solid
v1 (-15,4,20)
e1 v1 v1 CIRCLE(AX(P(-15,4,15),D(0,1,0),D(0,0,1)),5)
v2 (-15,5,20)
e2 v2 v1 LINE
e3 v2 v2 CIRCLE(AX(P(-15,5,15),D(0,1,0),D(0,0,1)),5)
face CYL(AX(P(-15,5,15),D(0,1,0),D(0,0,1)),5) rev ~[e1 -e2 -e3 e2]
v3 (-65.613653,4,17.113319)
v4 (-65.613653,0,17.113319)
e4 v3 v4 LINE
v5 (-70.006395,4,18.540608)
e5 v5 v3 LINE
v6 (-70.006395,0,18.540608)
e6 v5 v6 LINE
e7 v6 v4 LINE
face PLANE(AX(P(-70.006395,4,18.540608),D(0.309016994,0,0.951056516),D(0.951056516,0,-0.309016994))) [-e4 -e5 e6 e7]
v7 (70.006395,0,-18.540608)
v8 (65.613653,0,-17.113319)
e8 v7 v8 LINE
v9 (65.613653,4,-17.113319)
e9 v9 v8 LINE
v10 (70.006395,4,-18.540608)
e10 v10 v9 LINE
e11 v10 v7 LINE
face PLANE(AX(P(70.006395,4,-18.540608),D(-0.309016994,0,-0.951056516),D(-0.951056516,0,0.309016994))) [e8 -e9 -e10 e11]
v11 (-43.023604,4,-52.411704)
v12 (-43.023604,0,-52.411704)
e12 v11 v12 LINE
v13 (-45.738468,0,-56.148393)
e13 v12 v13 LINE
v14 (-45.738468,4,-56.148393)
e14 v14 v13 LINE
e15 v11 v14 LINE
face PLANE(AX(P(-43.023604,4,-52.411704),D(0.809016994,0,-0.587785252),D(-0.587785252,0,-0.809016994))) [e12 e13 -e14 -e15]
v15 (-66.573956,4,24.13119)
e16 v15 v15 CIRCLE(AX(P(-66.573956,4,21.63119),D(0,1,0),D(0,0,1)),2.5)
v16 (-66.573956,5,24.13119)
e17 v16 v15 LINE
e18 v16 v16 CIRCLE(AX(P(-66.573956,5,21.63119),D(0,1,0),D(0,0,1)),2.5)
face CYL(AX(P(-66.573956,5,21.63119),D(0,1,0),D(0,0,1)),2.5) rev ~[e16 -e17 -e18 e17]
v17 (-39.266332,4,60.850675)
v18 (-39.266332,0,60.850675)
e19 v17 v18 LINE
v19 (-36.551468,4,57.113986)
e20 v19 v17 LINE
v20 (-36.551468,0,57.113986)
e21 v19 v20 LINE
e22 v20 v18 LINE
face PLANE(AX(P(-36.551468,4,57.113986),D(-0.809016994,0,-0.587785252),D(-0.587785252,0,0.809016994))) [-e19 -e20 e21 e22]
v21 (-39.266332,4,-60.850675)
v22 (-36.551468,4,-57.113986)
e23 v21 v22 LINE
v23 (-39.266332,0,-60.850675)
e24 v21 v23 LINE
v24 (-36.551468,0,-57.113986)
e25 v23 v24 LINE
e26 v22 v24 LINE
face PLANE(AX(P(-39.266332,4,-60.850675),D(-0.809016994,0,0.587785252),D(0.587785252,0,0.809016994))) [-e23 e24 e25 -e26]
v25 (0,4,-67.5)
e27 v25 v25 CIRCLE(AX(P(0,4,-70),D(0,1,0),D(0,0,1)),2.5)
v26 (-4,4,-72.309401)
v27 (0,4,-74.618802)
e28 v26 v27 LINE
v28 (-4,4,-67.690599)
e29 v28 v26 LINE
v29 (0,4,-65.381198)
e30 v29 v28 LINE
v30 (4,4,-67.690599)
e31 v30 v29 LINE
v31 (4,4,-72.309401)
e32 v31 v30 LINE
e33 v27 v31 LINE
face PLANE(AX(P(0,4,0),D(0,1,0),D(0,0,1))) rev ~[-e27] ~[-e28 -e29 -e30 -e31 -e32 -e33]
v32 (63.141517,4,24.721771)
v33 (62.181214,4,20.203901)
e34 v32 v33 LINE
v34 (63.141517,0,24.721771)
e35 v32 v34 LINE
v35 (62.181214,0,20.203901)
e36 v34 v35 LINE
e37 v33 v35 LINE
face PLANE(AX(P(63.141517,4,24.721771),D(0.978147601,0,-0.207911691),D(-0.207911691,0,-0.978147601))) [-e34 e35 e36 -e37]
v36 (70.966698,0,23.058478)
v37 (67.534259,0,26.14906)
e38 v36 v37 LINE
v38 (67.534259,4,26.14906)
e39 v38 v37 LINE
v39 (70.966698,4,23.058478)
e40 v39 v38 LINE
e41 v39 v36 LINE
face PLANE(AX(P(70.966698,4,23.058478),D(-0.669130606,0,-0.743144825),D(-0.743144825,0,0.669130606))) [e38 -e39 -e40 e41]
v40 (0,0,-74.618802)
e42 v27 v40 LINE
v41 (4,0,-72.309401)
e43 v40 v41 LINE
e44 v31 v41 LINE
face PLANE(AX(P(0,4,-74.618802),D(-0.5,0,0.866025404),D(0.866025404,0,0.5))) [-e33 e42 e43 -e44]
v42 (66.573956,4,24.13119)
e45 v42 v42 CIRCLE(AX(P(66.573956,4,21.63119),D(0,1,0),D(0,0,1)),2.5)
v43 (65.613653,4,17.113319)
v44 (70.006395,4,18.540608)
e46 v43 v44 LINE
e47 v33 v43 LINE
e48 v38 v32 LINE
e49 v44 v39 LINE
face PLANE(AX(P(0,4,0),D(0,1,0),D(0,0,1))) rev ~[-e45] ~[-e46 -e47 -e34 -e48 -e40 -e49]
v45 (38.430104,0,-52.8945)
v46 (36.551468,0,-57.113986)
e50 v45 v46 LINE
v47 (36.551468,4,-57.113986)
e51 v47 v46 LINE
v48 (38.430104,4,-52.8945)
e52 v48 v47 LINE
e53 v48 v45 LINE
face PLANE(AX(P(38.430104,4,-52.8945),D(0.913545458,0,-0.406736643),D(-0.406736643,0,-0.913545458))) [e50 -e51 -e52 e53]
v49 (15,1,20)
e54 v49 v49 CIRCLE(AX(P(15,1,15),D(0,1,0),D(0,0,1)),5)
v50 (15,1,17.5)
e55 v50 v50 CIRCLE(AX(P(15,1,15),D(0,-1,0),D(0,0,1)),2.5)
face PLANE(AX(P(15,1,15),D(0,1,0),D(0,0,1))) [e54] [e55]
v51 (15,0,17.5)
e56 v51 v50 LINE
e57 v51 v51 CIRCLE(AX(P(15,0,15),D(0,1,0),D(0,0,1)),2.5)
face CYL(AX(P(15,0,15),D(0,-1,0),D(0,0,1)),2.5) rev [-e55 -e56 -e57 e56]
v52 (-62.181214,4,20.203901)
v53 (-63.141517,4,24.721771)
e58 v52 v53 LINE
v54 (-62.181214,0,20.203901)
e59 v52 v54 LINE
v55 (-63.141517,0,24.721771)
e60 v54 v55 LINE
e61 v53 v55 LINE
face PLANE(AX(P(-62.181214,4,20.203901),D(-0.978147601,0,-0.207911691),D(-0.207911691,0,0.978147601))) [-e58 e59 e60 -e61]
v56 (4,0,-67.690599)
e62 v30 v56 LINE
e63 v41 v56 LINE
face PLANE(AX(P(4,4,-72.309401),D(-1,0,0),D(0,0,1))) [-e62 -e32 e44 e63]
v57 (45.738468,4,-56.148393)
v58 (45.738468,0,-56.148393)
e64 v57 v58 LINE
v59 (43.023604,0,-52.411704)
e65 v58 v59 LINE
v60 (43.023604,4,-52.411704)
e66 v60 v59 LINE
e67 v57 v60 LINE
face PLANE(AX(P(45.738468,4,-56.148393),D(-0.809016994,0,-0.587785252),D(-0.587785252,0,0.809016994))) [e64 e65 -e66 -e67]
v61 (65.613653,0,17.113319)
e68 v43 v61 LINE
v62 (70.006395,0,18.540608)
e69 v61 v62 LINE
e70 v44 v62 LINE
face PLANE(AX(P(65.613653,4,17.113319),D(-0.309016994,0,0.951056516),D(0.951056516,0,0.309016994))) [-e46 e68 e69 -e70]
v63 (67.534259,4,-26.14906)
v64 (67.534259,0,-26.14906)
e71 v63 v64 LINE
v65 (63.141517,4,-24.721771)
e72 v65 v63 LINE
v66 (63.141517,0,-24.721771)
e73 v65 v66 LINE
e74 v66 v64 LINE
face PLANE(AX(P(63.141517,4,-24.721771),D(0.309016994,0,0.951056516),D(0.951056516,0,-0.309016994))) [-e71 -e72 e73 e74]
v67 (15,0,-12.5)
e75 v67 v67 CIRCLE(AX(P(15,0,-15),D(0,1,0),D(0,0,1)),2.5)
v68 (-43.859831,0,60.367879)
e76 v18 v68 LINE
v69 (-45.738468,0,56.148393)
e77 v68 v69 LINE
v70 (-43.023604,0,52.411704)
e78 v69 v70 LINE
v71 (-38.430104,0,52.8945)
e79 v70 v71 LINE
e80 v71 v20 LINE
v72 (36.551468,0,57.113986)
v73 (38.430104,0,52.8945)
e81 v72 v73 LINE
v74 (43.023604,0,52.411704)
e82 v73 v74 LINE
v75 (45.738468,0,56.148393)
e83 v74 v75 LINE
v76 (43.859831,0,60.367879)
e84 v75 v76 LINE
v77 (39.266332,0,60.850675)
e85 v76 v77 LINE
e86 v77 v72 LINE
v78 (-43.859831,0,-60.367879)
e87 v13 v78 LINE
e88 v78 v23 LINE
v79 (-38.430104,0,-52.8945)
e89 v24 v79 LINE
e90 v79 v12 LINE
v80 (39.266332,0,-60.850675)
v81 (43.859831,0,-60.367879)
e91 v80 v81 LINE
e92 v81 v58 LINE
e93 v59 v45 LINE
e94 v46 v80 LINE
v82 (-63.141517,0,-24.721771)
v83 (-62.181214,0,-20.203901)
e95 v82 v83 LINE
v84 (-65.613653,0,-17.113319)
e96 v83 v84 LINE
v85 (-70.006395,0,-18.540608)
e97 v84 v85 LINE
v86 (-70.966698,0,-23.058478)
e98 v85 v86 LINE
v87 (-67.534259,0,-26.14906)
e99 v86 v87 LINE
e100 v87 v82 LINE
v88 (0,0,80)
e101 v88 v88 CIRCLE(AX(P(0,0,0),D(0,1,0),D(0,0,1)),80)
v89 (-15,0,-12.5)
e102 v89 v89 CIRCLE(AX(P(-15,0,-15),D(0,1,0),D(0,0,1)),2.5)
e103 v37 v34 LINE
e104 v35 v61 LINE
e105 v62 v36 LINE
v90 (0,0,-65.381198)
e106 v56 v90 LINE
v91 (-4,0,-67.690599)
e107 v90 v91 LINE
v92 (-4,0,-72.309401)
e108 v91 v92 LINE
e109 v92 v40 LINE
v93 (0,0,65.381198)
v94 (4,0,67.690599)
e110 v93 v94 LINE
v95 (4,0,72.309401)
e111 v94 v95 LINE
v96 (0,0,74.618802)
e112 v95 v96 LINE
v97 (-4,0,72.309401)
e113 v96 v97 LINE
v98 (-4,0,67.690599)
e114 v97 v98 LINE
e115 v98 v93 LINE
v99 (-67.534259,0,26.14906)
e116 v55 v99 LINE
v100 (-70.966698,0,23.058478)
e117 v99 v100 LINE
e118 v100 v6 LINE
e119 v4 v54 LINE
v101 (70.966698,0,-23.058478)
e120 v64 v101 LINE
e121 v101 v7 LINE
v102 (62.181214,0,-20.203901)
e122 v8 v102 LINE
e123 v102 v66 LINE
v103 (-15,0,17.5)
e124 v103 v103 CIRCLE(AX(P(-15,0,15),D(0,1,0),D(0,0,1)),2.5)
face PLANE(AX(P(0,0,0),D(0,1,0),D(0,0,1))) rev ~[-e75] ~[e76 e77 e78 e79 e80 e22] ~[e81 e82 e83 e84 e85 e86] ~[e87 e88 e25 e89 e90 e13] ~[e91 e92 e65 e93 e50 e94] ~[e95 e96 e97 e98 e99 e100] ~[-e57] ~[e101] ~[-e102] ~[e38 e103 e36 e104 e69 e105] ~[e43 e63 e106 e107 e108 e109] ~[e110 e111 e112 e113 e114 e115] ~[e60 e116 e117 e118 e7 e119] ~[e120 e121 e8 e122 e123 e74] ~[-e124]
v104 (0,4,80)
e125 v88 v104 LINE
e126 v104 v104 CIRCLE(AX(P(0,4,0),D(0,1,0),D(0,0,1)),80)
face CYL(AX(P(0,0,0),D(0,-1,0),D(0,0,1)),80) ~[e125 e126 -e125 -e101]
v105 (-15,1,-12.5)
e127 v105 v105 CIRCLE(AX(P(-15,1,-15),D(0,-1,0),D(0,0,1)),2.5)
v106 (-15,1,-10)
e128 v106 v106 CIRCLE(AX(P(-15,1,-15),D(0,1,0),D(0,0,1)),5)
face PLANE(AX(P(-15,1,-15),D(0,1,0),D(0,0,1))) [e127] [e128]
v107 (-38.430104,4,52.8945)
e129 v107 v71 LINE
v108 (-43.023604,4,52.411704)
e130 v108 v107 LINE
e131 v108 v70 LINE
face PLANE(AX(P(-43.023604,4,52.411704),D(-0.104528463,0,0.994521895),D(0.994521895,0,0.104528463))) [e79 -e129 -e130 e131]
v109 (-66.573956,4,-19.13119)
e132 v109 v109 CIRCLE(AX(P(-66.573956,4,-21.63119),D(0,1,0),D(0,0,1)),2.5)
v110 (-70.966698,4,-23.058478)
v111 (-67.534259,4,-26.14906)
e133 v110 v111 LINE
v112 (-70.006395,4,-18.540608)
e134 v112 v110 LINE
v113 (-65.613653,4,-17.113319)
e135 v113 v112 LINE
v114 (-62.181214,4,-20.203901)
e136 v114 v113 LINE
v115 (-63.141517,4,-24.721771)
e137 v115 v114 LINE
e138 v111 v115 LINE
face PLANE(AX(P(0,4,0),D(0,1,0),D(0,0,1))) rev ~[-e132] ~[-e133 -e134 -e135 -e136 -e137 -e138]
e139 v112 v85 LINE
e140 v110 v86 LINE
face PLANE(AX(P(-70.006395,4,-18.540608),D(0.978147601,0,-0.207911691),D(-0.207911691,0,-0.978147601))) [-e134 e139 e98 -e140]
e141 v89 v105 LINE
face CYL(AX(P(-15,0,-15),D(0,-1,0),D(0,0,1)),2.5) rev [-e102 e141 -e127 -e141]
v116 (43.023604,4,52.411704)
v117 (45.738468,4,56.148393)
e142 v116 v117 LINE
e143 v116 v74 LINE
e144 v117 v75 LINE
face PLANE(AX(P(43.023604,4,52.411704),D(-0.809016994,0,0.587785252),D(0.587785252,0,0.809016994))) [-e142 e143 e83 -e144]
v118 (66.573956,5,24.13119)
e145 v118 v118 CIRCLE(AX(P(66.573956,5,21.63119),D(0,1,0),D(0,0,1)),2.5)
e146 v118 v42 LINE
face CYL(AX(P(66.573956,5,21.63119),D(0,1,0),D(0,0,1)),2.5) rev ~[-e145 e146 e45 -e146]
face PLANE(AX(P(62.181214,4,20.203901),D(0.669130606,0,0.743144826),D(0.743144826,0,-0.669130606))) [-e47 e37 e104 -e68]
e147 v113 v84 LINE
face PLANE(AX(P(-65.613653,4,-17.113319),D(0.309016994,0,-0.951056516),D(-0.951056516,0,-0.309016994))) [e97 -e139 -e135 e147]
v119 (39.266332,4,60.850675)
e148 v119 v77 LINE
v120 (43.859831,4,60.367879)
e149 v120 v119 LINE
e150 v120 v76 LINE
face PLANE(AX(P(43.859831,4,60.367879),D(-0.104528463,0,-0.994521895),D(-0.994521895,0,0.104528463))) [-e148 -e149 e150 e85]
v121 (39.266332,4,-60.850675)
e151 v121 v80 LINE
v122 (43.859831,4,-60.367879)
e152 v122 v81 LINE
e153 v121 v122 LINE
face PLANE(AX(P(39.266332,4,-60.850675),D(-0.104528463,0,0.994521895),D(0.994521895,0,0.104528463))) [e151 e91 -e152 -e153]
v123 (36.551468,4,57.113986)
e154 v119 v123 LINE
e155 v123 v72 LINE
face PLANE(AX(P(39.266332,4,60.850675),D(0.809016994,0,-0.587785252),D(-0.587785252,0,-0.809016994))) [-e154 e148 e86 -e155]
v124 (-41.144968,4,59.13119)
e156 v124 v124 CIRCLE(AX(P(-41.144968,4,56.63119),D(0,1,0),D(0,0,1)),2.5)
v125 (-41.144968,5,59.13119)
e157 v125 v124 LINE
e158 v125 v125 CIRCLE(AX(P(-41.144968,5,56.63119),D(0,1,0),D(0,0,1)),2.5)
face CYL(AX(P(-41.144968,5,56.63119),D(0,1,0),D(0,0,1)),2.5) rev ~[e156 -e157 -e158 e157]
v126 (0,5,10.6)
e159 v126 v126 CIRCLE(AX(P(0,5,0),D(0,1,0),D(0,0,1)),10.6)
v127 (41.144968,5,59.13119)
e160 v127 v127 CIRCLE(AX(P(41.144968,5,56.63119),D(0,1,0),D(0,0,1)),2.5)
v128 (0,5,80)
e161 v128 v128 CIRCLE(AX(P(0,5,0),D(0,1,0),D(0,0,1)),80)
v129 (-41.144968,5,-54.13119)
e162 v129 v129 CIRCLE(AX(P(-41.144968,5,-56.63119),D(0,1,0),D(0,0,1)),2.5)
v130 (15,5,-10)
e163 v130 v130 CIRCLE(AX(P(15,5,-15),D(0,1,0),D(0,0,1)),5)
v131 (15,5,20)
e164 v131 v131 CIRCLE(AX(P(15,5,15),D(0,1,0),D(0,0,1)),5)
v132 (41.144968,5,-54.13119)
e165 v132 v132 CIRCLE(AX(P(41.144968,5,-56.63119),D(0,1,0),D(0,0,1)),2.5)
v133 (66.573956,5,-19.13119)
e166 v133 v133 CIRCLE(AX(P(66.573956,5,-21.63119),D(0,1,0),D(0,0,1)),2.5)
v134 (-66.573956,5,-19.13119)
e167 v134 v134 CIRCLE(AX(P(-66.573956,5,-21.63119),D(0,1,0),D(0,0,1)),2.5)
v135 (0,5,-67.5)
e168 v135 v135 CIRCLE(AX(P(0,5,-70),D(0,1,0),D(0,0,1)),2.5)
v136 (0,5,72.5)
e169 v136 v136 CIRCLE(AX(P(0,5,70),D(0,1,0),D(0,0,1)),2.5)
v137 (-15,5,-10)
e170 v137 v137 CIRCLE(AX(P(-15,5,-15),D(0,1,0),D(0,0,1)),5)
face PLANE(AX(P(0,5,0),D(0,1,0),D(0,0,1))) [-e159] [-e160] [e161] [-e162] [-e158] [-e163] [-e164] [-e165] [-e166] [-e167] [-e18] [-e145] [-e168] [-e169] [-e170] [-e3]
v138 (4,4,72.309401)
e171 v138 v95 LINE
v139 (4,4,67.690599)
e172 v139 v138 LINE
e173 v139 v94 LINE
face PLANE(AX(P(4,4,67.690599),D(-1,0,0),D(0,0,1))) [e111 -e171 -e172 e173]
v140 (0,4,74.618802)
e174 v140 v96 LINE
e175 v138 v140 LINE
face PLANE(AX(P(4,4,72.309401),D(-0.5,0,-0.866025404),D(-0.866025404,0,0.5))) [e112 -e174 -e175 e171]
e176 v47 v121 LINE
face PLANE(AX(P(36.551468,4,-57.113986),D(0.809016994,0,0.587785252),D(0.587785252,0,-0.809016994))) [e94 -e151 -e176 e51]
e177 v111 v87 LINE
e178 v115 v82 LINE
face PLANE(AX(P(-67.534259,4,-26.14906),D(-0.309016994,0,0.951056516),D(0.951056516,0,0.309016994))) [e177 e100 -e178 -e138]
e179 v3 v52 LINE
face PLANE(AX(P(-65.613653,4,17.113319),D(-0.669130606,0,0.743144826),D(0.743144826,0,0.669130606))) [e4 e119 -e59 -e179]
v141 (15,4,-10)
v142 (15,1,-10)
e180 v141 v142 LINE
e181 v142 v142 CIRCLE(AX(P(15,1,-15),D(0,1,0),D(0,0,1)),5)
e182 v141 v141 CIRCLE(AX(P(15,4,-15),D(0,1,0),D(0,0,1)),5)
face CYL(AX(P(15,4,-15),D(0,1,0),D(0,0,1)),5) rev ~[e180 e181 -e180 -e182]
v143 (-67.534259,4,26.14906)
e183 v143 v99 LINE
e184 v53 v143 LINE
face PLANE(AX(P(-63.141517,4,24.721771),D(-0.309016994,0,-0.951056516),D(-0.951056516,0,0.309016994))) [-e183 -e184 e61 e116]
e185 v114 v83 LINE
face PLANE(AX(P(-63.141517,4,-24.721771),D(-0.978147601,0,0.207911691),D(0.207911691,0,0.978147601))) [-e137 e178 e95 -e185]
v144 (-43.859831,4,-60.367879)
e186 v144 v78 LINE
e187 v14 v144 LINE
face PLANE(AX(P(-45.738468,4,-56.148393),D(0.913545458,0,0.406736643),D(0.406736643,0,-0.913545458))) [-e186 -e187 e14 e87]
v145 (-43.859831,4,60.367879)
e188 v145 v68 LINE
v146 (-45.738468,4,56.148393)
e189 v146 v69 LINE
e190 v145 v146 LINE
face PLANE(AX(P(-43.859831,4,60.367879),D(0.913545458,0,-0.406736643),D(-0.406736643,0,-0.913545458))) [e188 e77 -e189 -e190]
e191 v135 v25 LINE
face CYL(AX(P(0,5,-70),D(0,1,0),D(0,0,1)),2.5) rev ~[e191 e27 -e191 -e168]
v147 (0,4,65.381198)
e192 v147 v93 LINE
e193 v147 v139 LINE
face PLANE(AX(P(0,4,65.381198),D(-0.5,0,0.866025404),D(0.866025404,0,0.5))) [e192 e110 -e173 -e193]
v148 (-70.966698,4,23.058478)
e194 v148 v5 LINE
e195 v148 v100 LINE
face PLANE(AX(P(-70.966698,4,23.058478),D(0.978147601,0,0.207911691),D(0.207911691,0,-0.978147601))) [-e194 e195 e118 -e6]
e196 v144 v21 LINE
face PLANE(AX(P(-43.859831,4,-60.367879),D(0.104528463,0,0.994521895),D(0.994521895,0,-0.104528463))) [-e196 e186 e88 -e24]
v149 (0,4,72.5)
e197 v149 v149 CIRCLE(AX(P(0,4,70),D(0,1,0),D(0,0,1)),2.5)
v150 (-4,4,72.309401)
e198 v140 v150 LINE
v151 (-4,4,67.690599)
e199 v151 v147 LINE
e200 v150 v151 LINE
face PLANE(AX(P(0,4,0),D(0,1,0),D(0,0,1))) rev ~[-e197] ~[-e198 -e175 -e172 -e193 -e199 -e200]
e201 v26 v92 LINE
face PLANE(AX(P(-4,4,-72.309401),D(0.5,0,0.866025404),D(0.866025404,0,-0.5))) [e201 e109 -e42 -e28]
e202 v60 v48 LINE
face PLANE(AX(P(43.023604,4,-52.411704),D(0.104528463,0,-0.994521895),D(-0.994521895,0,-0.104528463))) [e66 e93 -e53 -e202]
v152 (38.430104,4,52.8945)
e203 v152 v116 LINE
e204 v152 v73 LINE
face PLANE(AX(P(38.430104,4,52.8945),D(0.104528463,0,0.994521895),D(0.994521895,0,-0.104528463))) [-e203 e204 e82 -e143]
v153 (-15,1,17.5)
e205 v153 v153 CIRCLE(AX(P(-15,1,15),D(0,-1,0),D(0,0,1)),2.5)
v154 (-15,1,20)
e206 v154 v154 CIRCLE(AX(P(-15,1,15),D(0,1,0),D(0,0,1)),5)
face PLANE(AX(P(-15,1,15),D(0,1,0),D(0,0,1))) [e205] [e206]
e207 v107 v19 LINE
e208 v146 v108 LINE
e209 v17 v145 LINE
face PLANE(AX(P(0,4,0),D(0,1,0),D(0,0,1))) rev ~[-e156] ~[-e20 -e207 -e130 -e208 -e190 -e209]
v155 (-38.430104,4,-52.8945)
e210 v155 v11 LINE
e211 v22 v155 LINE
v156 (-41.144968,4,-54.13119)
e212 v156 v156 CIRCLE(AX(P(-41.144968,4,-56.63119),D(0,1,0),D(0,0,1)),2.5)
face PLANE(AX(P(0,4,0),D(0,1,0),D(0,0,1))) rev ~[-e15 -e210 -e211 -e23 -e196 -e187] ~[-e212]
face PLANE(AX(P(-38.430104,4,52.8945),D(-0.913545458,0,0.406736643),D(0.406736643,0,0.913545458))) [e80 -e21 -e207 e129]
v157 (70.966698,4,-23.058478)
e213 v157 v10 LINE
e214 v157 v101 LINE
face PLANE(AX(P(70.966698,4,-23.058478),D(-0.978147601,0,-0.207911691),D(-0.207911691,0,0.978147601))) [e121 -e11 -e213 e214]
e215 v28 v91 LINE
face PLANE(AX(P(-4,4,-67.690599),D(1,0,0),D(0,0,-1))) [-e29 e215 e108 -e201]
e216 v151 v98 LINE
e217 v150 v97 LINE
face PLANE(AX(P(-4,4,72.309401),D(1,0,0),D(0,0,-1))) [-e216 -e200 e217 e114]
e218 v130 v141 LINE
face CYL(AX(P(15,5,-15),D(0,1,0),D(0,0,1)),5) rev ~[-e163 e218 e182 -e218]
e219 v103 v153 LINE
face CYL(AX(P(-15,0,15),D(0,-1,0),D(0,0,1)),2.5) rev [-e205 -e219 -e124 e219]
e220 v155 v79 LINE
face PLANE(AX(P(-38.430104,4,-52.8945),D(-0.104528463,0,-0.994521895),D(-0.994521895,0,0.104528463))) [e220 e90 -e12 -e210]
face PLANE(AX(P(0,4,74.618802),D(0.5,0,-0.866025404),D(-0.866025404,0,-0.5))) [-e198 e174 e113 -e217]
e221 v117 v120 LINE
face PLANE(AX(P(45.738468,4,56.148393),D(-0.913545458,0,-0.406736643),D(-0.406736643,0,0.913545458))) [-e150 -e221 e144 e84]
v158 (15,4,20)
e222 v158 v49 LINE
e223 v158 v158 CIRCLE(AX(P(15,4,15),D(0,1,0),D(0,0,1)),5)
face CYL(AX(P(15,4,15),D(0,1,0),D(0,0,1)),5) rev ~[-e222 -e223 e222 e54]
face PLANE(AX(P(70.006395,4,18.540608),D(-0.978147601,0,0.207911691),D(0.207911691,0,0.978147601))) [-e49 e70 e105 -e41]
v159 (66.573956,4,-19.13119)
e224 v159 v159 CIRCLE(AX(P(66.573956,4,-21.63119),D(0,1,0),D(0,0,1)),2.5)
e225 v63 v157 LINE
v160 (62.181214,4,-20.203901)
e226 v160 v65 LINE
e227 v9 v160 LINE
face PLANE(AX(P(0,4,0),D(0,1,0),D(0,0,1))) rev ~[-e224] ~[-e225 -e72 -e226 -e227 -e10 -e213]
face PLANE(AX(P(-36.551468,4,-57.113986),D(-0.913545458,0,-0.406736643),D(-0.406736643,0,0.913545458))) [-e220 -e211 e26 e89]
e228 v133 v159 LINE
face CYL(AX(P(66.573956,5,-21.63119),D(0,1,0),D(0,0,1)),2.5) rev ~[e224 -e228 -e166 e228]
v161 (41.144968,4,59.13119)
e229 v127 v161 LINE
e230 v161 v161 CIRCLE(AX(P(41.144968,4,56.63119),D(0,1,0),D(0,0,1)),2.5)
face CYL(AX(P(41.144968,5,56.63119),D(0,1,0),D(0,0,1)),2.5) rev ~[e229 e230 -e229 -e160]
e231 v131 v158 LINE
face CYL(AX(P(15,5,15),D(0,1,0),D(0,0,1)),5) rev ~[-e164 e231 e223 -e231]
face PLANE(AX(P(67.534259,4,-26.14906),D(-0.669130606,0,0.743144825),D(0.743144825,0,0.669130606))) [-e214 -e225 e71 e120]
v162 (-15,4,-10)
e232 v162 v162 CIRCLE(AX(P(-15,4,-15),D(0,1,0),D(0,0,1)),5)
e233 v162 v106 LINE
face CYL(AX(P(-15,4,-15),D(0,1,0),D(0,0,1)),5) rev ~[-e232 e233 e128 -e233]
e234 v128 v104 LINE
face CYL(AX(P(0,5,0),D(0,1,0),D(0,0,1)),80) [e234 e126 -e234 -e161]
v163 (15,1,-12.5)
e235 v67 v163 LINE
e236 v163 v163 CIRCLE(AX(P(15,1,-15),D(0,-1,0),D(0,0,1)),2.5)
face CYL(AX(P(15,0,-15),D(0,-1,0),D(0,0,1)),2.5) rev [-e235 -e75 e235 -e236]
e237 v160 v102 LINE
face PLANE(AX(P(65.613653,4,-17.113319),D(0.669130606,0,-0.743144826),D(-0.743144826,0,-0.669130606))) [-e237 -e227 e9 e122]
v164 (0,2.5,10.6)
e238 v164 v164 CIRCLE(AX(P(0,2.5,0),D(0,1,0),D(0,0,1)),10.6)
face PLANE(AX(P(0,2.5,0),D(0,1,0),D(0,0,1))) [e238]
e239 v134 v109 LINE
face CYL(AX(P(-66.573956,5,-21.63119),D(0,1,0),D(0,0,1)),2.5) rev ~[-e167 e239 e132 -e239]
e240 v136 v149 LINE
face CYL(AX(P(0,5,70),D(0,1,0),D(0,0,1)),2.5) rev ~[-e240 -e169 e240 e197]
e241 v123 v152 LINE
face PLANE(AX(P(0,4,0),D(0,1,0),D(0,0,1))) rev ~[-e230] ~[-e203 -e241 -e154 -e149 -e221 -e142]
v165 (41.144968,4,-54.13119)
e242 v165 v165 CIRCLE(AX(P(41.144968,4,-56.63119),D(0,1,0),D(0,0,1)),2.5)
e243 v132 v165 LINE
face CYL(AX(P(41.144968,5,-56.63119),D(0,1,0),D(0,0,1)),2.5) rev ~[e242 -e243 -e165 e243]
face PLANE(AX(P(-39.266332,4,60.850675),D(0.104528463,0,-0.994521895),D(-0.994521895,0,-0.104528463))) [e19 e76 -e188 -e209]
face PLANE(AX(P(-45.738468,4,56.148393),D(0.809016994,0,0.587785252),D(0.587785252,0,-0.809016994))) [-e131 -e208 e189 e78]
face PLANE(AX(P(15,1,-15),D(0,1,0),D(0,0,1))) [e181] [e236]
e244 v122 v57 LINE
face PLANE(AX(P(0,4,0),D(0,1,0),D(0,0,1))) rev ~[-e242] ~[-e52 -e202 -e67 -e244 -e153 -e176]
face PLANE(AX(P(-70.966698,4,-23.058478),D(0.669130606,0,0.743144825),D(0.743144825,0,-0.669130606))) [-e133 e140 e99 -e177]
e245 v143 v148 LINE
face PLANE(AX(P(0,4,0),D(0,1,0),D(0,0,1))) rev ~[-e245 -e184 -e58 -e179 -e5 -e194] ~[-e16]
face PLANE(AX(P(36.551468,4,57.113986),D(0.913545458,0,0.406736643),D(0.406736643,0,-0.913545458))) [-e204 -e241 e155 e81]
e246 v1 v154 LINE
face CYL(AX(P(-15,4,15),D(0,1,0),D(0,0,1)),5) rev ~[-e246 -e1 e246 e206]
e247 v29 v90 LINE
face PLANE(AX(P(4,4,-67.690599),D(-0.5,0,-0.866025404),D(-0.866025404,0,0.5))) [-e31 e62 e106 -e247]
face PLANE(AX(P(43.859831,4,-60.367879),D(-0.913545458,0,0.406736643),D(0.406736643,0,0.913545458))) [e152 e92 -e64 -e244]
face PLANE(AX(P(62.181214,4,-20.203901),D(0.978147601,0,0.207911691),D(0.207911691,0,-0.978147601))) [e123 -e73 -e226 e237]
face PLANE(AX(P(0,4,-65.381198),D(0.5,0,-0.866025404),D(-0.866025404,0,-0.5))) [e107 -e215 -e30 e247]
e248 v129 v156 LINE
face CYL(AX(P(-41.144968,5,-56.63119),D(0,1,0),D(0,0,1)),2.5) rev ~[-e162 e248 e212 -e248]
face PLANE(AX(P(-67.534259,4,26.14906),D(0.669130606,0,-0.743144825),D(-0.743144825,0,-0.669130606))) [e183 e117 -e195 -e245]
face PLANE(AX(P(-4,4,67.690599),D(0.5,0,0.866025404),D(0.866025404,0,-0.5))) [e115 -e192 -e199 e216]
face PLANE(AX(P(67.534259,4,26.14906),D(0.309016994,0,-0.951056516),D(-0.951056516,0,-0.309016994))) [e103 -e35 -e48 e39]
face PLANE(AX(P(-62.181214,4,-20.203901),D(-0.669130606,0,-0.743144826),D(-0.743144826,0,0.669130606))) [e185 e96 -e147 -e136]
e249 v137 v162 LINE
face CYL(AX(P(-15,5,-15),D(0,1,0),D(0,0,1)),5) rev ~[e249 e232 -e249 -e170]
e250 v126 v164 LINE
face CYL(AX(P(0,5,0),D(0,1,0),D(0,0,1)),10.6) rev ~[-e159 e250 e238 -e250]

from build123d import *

# Parameters (mm, degrees)
SKETCH1_R           = 80
SKETCH1_R_2         = 2.5
BOSS_EXTRUDE1_DEPTH = 4
CUT_EXTRUDE1_DEPTH  = 114.207773585
SKETCH3_R           = 5
CUT_EXTRUDE2_DEPTH  = 3
BOSS_EXTRUDE2_START = 1
SKETCH4_R           = 80
SKETCH4_R_2         = 2.5
SKETCH4_R_3         = 5
BOSS_EXTRUDE2_DEPTH = 1
SKETCH5_R           = 10.6
CUT_EXTRUDE3_DEPTH  = 2.5


with BuildPart() as part:
    # Sketch1 → Boss-Extrude1 (new body)
    with BuildSketch(Plane(origin=(0, 0, 0), x_dir=(1, 0, 0), z_dir=(0, 1, 0))):
        with Locations(Location((0, 0, 0), (0, 0, 270))):
            Circle(SKETCH1_R)
        with Locations(Location((-15, 15, 0), (0, 0, 270))):
            Circle(SKETCH1_R_2, mode=Mode.SUBTRACT)
        with Locations(Location((15, 15, 0), (0, 0, 270))):
            Circle(SKETCH1_R_2, mode=Mode.SUBTRACT)
        with Locations(Location((15, -15, 0), (0, 0, 270))):
            Circle(SKETCH1_R_2, mode=Mode.SUBTRACT)
        with Locations(Location((-15, -15, 0), (0, 0, 270))):
            Circle(SKETCH1_R_2, mode=Mode.SUBTRACT)
    extrude(amount=BOSS_EXTRUDE1_DEPTH)

    # Sketch2 → Cut-Extrude1 (cut, through all)
    with BuildSketch(Plane(origin=(0, 4, 0), x_dir=(1, 0, 0), z_dir=(0, 1, 0))):
        Polygon((4, 72.309401077), (4, 67.690598923), (0, 65.381197846), (-4, 67.690598923), (-4, 72.309401077), (0, 74.618802154), align=None)
        Polygon((45.738467533, 56.148393315), (43.023603743, 52.411703879), (38.430103871, 52.89450017), (36.551467788, 57.113985897), (39.266331578, 60.850675333), (43.85983145, 60.367879042), align=None)
        Polygon((70.006395061, 18.540607721), (65.613653175, 17.113319362), (62.181214255, 20.203901247), (63.14151722, 24.721771492), (67.534259106, 26.149059851), (70.966698026, 23.058477965), align=None)
        Polygon((67.534259106, -26.149059851), (63.14151722, -24.721771492), (62.181214255, -20.203901247), (65.613653175, -17.113319362), (70.006395061, -18.540607721), (70.966698026, -23.058477965), align=None)
        Polygon((39.266331578, -60.850675333), (36.551467788, -57.113985897), (38.430103871, -52.89450017), (43.023603743, -52.411703879), (45.738467533, -56.148393315), (43.85983145, -60.367879042), align=None)
        Polygon((-4, -72.309401077), (-4, -67.690598923), (0, -65.381197846), (4, -67.690598923), (4, -72.309401077), (0, -74.618802154), align=None)
        Polygon((-45.738467533, -56.148393315), (-43.023603743, -52.411703879), (-38.430103871, -52.89450017), (-36.551467788, -57.113985897), (-39.266331578, -60.850675333), (-43.85983145, -60.367879042), align=None)
        Polygon((-70.006395061, -18.540607721), (-65.613653175, -17.113319362), (-62.181214255, -20.203901247), (-63.14151722, -24.721771492), (-67.534259106, -26.149059851), (-70.966698026, -23.058477965), align=None)
        Polygon((-67.534259106, 26.149059851), (-63.14151722, 24.721771492), (-62.181214255, 20.203901247), (-65.613653175, 17.113319362), (-70.006395061, 18.540607721), (-70.966698026, 23.058477965), align=None)
        Polygon((-39.266331578, 60.850675333), (-36.551467788, 57.113985897), (-38.430103871, 52.89450017), (-43.023603743, 52.411703879), (-45.738467533, 56.148393315), (-43.85983145, 60.367879042), align=None)
    extrude(amount=-CUT_EXTRUDE1_DEPTH, mode=Mode.SUBTRACT)

    # Sketch3 → Cut-Extrude2 (cut)
    with BuildSketch(Plane(origin=(0, 4, 0), x_dir=(1, 0, 0), z_dir=(0, 1, 0))):
        with Locations(Location((-15, -15, 0), (0, 0, 270))):
            Circle(SKETCH3_R)
        with Locations(Location((15, -15, 0), (0, 0, 270))):
            Circle(SKETCH3_R)
        with Locations(Location((15, 15, 0), (0, 0, 270))):
            Circle(SKETCH3_R)
        with Locations(Location((-15, 15, 0), (0, 0, 270))):
            Circle(SKETCH3_R)
    extrude(amount=-CUT_EXTRUDE2_DEPTH, mode=Mode.SUBTRACT)

    # Sketch4 → Boss-Extrude2 (add)
    with BuildSketch(Plane(origin=(0, 4, 0), x_dir=(1, 0, 0), z_dir=(0, 1, 0)).offset(BOSS_EXTRUDE2_START)):
        with Locations(Location((0, 0, 0), (0, 0, 270))):
            Circle(SKETCH4_R)
        with Locations(Location((41.14496766, 56.631189606, 0), (0, 0, 270))):
            Circle(SKETCH4_R_2, mode=Mode.SUBTRACT)
        with Locations(Location((0, 70, 0), (0, 0, 270))):
            Circle(SKETCH4_R_2, mode=Mode.SUBTRACT)
        with Locations(Location((66.573956141, 21.631189606, 0), (0, 0, 270))):
            Circle(SKETCH4_R_2, mode=Mode.SUBTRACT)
        with Locations(Location((66.573956141, -21.631189606, 0), (0, 0, 270))):
            Circle(SKETCH4_R_2, mode=Mode.SUBTRACT)
        with Locations(Location((-15, 15, 0), (0, 0, 270))):
            Circle(SKETCH4_R_3, mode=Mode.SUBTRACT)
        with Locations(Location((41.14496766, -56.631189606, 0), (0, 0, 270))):
            Circle(SKETCH4_R_2, mode=Mode.SUBTRACT)
        with Locations(Location((15, 15, 0), (0, 0, 270))):
            Circle(SKETCH4_R_3, mode=Mode.SUBTRACT)
        with Locations(Location((0, -70, 0), (0, 0, 270))):
            Circle(SKETCH4_R_2, mode=Mode.SUBTRACT)
        with Locations(Location((-15, -15, 0), (0, 0, 270))):
            Circle(SKETCH4_R_3, mode=Mode.SUBTRACT)
        with Locations(Location((-41.14496766, -56.631189606, 0), (0, 0, 270))):
            Circle(SKETCH4_R_2, mode=Mode.SUBTRACT)
        with Locations(Location((15, -15, 0), (0, 0, 270))):
            Circle(SKETCH4_R_3, mode=Mode.SUBTRACT)
        with Locations(Location((-66.573956141, -21.631189606, 0), (0, 0, 270))):
            Circle(SKETCH4_R_2, mode=Mode.SUBTRACT)
        with Locations(Location((-66.573956141, 21.631189606, 0), (0, 0, 270))):
            Circle(SKETCH4_R_2, mode=Mode.SUBTRACT)
        with Locations(Location((-41.14496766, 56.631189606, 0), (0, 0, 270))):
            Circle(SKETCH4_R_2, mode=Mode.SUBTRACT)
    extrude(amount=-BOSS_EXTRUDE2_DEPTH)

    # Sketch5 → Cut-Extrude3 (cut)
    with BuildSketch(Plane(origin=(0, 5, 0), x_dir=(1, 0, 0), z_dir=(0, 1, 0))):
        with Locations(Location((0, 0, 0), (0, 0, 270))):
            Circle(SKETCH5_R)
    extrude(amount=-CUT_EXTRUDE3_DEPTH, mode=Mode.SUBTRACT)


solid = part.part
